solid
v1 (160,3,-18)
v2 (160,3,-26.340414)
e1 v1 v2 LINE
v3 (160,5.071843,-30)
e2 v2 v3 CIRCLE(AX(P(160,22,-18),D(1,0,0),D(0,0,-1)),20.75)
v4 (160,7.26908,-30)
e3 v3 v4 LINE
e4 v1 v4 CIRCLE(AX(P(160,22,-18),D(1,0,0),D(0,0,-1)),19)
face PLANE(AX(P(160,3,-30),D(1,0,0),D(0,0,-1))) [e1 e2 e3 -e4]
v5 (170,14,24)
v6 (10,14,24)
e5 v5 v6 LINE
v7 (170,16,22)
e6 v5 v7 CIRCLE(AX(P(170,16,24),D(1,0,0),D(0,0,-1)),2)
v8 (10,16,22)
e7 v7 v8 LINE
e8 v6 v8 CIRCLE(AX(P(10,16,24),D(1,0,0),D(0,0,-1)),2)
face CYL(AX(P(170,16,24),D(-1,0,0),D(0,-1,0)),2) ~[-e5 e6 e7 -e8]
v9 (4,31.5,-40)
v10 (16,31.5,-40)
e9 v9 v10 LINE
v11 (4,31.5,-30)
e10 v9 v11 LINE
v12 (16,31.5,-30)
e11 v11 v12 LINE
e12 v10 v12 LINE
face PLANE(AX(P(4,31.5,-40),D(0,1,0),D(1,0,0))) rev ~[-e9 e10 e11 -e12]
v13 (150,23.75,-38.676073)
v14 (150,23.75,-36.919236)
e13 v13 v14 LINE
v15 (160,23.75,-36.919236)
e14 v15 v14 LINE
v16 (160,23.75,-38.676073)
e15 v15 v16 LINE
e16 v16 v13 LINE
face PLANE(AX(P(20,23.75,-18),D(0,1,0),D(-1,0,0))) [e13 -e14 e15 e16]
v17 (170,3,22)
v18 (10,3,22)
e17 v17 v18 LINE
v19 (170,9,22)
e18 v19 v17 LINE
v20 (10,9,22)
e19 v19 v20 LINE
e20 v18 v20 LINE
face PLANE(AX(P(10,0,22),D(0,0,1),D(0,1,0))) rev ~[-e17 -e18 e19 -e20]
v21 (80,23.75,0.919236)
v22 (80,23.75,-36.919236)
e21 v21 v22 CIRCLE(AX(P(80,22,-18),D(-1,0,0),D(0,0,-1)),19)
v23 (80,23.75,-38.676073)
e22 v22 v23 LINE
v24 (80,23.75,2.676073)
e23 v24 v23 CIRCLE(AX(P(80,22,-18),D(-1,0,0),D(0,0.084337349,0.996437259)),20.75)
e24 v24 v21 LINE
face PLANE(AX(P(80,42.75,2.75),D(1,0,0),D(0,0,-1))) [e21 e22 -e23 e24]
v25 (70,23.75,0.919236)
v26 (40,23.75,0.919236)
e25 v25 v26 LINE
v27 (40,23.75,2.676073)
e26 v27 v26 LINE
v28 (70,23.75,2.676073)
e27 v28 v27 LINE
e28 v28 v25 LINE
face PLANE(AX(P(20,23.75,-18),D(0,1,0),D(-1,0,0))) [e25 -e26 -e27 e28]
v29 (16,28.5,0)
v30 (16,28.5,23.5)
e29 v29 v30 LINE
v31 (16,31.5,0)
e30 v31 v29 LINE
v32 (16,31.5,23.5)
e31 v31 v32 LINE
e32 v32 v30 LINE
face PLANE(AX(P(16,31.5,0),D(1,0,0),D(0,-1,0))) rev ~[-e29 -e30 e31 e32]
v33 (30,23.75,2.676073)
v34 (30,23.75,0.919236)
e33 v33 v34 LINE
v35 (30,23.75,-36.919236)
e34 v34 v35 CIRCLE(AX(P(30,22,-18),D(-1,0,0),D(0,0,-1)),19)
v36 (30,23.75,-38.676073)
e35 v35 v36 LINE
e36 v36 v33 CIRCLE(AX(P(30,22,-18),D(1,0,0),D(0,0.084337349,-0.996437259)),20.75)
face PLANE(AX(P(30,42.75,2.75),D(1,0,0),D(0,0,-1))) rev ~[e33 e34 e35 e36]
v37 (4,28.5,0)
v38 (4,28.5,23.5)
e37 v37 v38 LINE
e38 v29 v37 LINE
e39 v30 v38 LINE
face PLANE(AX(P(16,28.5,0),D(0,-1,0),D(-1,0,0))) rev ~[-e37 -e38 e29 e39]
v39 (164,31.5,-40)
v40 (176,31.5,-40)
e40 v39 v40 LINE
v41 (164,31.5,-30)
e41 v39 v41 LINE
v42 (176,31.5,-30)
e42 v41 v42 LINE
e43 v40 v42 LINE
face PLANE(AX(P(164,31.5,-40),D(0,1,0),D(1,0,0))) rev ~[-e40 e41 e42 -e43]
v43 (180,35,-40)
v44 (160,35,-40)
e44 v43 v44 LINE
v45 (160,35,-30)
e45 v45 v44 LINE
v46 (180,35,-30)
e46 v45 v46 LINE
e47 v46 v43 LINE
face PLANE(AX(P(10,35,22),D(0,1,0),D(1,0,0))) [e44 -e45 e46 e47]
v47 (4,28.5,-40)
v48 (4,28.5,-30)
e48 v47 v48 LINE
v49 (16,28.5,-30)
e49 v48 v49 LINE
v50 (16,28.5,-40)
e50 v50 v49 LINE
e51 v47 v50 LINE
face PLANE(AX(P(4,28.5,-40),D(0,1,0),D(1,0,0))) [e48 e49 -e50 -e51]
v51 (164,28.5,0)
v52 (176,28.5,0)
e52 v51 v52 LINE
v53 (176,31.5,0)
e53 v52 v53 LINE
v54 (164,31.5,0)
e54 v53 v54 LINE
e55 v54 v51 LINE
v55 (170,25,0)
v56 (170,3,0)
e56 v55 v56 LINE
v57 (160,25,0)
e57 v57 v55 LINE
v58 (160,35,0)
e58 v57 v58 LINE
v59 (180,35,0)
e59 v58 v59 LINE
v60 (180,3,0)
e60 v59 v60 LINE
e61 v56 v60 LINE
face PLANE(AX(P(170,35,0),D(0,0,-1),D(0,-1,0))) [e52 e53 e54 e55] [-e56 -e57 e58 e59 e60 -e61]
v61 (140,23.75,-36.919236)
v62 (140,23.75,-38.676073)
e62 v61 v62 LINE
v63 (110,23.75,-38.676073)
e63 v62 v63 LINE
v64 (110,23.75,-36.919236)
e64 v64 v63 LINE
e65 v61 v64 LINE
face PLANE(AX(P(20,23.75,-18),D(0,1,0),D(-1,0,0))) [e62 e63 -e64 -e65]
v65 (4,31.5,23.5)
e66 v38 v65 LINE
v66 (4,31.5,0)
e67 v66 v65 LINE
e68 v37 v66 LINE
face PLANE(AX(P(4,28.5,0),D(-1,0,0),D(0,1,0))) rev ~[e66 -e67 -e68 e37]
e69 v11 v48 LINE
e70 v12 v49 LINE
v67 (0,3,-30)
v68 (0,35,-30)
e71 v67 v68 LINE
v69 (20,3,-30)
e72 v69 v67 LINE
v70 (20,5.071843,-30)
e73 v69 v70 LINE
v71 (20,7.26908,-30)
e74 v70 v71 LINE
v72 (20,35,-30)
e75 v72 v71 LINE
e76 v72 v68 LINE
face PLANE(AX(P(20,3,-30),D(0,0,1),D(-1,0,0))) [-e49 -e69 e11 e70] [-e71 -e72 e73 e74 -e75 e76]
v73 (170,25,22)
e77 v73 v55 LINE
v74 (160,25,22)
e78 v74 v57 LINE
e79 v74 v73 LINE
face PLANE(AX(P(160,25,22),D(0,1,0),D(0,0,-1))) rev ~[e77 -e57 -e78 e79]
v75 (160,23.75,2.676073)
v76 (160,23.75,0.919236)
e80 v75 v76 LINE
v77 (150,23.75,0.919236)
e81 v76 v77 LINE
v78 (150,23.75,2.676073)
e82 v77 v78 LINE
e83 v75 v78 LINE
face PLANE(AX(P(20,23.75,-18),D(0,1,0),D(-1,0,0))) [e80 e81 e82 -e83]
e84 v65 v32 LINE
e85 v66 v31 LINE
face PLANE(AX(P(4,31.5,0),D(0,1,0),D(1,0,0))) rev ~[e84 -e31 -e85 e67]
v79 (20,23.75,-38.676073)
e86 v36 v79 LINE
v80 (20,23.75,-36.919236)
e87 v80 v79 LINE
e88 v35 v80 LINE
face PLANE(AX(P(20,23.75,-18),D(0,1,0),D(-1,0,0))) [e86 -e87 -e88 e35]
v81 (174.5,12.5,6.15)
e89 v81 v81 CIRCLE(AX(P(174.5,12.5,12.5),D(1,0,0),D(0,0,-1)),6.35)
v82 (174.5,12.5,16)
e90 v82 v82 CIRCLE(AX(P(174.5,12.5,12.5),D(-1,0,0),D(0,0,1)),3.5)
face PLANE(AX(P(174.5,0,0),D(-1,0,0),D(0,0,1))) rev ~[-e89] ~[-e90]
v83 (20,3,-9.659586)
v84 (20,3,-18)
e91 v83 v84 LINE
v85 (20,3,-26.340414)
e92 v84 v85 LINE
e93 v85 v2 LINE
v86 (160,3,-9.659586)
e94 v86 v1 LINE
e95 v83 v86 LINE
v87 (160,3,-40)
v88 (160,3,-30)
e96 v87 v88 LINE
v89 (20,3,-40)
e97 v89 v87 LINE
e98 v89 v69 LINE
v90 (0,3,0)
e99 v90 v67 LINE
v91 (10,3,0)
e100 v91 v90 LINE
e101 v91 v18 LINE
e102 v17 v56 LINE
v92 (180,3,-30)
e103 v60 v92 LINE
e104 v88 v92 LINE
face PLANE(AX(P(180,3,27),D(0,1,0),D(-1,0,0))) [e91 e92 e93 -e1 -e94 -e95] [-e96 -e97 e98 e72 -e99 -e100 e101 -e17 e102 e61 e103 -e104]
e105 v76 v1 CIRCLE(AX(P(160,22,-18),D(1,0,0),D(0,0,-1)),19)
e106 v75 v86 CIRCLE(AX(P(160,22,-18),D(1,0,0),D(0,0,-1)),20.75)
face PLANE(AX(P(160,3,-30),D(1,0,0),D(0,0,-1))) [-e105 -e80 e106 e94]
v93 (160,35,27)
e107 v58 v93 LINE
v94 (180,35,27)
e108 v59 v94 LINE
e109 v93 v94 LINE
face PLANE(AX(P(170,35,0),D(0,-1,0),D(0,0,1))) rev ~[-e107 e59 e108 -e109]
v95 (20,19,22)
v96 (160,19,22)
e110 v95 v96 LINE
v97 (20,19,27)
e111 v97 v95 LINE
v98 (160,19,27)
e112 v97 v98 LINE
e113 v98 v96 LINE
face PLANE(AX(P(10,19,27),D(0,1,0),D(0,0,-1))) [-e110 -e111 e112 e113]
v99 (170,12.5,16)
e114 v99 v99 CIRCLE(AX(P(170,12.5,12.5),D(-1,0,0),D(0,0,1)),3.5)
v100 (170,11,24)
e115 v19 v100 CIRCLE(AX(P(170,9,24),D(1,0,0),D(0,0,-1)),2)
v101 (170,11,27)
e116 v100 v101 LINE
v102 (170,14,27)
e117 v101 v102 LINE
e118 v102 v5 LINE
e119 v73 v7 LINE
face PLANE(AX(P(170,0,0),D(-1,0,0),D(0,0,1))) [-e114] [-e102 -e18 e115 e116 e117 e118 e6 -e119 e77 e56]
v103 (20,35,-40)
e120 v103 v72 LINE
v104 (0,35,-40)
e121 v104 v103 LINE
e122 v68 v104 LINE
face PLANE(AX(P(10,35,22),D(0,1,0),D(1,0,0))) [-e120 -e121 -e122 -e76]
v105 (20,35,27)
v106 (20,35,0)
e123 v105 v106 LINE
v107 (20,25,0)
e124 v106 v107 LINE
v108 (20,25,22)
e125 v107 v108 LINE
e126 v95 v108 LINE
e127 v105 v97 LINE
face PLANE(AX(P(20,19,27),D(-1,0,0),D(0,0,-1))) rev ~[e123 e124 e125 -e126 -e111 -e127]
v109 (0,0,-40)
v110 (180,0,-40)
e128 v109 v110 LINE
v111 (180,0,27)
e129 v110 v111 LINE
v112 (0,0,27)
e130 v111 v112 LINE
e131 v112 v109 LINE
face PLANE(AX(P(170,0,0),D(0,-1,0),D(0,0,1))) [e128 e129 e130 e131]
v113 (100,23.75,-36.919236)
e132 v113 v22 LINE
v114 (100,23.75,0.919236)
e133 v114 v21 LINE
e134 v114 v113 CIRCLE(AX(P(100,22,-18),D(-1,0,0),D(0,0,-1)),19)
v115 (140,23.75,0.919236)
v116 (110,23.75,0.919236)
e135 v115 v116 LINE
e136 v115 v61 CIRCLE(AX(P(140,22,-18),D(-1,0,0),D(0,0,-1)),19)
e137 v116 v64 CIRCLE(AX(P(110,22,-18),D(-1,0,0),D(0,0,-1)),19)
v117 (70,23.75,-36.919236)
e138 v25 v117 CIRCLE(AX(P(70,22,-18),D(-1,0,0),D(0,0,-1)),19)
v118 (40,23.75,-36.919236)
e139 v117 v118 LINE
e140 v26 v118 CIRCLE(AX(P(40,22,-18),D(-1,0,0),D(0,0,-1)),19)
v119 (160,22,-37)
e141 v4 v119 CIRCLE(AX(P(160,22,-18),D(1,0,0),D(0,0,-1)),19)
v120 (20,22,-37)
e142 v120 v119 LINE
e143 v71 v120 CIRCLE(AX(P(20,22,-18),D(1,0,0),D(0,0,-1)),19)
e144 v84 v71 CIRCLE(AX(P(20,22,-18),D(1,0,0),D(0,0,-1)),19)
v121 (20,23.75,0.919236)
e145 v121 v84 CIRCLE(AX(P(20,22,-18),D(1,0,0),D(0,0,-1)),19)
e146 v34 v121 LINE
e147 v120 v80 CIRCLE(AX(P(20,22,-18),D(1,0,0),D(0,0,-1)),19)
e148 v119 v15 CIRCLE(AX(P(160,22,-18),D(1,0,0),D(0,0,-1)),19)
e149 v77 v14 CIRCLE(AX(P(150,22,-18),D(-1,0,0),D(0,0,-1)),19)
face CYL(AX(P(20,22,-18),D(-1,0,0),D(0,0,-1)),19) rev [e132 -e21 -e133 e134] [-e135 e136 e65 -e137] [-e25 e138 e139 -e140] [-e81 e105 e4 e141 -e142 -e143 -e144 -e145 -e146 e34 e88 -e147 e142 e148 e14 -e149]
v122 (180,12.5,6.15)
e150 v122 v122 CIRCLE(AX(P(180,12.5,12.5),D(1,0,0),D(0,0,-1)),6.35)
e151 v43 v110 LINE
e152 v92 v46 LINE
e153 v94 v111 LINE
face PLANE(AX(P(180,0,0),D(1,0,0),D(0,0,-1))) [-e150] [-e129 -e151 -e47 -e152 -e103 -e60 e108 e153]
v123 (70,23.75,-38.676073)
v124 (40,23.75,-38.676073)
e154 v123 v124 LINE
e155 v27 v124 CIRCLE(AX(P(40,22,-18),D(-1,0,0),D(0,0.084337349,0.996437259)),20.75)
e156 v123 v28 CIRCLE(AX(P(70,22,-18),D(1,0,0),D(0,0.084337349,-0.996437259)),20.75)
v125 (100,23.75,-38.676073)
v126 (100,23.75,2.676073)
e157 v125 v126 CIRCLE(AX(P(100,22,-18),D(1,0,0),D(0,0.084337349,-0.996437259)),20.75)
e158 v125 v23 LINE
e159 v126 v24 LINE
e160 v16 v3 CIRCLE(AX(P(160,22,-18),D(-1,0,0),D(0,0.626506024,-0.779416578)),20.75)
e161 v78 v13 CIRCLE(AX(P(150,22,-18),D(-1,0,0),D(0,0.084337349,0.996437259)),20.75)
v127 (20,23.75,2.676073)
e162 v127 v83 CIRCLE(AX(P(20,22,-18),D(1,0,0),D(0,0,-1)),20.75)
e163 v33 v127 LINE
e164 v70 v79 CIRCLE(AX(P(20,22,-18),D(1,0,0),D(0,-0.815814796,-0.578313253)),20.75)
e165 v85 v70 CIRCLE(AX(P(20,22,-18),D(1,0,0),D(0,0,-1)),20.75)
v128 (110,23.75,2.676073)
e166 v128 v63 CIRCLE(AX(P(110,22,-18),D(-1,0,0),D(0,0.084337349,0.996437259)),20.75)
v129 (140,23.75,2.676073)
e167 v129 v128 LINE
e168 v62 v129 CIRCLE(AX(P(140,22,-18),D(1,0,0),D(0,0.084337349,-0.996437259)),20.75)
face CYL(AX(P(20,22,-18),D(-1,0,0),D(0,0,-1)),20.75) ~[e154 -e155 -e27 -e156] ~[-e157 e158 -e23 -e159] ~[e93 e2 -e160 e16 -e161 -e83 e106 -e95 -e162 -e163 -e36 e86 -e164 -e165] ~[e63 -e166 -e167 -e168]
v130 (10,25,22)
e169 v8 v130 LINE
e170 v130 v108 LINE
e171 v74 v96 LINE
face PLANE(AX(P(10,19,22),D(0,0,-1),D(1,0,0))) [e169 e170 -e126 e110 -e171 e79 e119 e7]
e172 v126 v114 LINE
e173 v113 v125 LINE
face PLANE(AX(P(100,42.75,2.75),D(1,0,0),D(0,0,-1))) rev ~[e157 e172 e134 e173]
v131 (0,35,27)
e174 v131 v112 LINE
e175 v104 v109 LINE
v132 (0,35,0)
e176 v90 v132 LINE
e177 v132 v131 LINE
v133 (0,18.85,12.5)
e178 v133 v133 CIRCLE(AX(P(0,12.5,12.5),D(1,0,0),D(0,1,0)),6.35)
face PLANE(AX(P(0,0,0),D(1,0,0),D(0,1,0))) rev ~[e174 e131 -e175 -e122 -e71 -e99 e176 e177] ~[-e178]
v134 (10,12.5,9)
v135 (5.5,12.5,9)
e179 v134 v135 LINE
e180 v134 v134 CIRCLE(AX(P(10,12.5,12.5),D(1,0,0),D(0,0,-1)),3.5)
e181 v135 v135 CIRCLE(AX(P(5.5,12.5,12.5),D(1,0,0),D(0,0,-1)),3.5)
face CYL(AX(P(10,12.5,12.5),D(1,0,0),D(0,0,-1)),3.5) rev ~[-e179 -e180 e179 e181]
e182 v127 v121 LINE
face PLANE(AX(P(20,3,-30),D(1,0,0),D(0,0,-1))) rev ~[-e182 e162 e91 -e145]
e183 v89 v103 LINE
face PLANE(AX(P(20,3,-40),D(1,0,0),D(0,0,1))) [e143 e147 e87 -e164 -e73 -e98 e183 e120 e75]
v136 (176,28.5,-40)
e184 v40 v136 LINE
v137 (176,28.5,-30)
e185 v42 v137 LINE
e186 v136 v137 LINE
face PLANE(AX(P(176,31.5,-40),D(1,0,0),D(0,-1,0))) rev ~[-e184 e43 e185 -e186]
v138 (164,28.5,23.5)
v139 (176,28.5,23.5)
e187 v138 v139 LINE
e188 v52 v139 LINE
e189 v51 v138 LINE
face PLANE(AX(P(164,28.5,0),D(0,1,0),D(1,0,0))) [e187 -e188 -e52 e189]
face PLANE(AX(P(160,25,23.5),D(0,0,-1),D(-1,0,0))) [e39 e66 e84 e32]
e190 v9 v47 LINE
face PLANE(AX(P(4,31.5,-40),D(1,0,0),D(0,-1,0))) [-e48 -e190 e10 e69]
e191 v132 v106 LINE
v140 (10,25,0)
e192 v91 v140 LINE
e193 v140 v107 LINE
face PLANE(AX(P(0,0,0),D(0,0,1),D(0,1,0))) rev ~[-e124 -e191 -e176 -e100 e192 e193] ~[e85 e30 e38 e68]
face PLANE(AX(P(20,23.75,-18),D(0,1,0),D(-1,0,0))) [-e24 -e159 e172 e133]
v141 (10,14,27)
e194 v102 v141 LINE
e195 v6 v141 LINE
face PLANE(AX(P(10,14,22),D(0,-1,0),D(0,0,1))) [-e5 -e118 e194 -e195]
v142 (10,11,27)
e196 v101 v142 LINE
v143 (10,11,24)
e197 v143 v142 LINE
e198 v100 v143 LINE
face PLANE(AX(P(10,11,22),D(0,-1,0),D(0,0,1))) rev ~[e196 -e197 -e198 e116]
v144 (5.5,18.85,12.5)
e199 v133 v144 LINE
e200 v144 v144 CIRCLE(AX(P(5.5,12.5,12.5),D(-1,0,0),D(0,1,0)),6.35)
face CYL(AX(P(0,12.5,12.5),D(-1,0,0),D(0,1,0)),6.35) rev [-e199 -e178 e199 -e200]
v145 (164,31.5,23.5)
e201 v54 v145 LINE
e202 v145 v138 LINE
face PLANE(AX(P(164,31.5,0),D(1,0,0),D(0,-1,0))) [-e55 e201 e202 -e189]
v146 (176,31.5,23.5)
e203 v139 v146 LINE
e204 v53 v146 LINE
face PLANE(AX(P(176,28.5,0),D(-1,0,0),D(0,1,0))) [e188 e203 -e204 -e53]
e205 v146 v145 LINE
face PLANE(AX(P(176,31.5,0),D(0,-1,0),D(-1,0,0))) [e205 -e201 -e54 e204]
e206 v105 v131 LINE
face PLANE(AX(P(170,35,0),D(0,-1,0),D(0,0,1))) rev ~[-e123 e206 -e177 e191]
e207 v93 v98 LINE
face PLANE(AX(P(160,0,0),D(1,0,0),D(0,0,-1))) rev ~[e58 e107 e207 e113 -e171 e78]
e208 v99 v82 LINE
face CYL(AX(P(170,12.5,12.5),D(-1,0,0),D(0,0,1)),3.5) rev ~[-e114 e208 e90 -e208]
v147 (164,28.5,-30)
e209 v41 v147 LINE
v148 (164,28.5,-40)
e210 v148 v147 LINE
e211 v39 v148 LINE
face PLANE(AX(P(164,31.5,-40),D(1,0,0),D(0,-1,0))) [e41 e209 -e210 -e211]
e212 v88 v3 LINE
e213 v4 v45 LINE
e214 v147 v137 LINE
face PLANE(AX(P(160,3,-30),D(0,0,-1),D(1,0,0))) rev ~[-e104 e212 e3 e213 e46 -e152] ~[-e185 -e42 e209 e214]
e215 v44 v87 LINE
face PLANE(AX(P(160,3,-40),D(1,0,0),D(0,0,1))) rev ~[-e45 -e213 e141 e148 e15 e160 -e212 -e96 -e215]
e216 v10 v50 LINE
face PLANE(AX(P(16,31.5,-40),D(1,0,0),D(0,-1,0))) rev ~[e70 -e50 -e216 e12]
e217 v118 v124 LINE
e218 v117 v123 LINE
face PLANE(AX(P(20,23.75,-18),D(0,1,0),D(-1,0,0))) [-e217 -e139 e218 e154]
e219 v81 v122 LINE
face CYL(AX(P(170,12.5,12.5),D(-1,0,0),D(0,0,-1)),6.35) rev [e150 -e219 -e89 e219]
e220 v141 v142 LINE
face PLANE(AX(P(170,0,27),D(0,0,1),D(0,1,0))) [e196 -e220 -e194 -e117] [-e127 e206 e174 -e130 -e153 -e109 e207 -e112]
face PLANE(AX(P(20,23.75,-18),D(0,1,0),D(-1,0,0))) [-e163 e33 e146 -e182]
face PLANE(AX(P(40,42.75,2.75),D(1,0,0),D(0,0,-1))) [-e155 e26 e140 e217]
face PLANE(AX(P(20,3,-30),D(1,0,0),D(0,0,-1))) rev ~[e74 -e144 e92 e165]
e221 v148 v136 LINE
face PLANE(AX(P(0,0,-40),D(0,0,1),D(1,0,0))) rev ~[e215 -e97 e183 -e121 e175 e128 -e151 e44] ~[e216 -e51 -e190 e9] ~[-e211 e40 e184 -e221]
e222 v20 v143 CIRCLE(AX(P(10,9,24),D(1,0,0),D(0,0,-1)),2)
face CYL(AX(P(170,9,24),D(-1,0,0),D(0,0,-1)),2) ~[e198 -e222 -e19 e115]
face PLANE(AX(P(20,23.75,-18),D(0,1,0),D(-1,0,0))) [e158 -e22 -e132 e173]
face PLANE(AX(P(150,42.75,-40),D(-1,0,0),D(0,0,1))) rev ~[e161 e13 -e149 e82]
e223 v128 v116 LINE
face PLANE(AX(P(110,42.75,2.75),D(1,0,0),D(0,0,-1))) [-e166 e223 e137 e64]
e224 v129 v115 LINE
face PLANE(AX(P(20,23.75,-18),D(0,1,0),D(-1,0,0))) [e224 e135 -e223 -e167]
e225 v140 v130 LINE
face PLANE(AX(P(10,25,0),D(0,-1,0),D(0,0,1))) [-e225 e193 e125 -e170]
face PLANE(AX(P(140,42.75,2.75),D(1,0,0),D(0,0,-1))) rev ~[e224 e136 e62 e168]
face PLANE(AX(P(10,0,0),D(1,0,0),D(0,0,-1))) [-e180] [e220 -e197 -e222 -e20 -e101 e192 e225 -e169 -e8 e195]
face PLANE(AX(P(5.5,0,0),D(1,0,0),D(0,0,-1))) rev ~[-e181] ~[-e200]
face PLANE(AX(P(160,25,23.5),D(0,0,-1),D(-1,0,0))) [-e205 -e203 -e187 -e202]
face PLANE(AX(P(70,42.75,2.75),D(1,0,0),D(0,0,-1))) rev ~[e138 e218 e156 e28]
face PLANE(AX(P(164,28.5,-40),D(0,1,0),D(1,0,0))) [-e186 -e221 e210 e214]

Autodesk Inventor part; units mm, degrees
ref_plane "YZ Plane" through (0, 0, 0) normal (1, 0, 0) x (0, 1, 0)
ref_plane "XZ Plane" through (0, 0, 0) normal (0, 1, 0) x (-1, 0, 0)
sketch "Sketch1" plane through (0, 0, 0) normal (1, 0, 0) x (0, 1, 0)
  line L0 (0, 0) -> (35, 0)
  line L1 (35, 0) -> (35, 27)
  line L2 (35, 27) -> (0, 27)
  line L3 (0, 27) -> (0, 0)
  line L4 (0, 27) -> (25, 27) construction
  line L5 (25, 27) -> (25, 0) construction
  line L6 (25, 0) -> (0, 0) construction
  line L7 (0, 0) -> (0, 27) construction
  circle A0 centre (12.5, 12.5) radius 6.35
  dimension "d0" = 35
  dimension "d1" = 27
  dimension "d2" = 25
  dimension "d3" = 12.7
extrude "Extrusion1" add sketch "Sketch1" along normal blind 10
sketch "Sketch2" plane through (10, 0, 0) normal (1, 0, 0) x (0, 0, -1)
  line L0 (0, 35) -> (-27, 35) projected
  line L1 (0, 0) -> (0, 35) projected
  line L2 (-27, 35) -> (0, 35)
  line L3 (0, 35) -> (0, 25)
  line L4 (0, 25) -> (-27, 25)
  line L5 (-27, 25) -> (-27, 35)
  dimension "d6" = 10
extrude "Extrusion2" add sketch "Sketch2" along normal blind 10
sketch "Sketch3" plane through (10, 0, 0) normal (1, 0, 0) x (0, 0, -1)
  point P0 (0, 0)
sketch "Sketch4" plane through (0, 0, 0) normal (0, 0, -1) x (-1, 0, 0)
  point P0 (0, 0)
sketch "Sketch5" plane through (10, 0, 0) normal (1, 0, 0) x (0, 0, -1)
  point P0 (0, 0)
sketch "Sketch6" plane through (10, 0, 0) normal (1, 0, 0) x (0, 0, -1)
  line L0 (-27, 25) -> (-27, 0) projected
  line L1 (-27, 0) -> (-22, 0)
  line L2 (-22, 0) -> (-22, 11)
  line L3 (-22, 11) -> (-27, 11)
  line L4 (-27, 11) -> (-27, 0)
  line L5 (-22, 14) -> (-27, 14)
  line L6 (-27, 14) -> (-27, 19)
  line L7 (-27, 19) -> (-22, 19)
  line L8 (-22, 19) -> (-22, 14)
  point P0 (0, 0)
  dimension "d9" = 5
  dimension "d10" = 11
  dimension "d11" = 5
extrude "Extrusion3" add sketch "Sketch6" along normal blind 150
sketch "Sketch7" plane through (10, 19, 27) normal (0, 1, 0) x (1, 0, 0)
  line L0 (-10, 0) -> (10, 0) projected
  line L1 (0, 5) -> (150, 5) projected
  line L2 (0, 0) -> (10, 0)
  line L3 (10, 0) -> (10, 5)
  line L4 (10, 5) -> (0, 5)
  line L5 (0, 5) -> (0, 0)
  point P0 (-10, 27)
  dimension "d14" = 10
extrude "Extrusion4" add sketch "Sketch7" along normal blind 7.5
sketch "Sketch8" plane through (160, 0, 0) normal (1, 0, 0) x (0, 0, -1)
  line L0 (-27, 14) -> (-22, 14) projected
  line L1 (-27, 14) -> (-22, 14)
  line L2 (-22, 25) -> (-22, 14) projected
  line L3 (-22, 14) -> (-22, 25)
  line L4 (-22, 25) -> (0, 25) projected
  line L5 (-22, 25) -> (0, 25)
  line L6 (0, 25) -> (0, 35) projected
  line L7 (0, 25) -> (0, 35)
  line L8 (0, 35) -> (-27, 35)
  line L9 (-27, 35) -> (-27, 14)
  line L10 (-22, 11) -> (-22, 0) projected
  line L11 (-27, 0) -> (-22, 0)
  line L12 (-22, 0) -> (-22, 11)
  line L13 (-22, 11) -> (-27, 11)
  line L14 (-27, 11) -> (-27, 0)
  point P0 (0, 0)
extrude "Extrusion5" add sketch "Sketch8" along normal blind 10
sketch "Sketch9" plane through (170, 0, 0) normal (1, 0, 0) x (0, 0, -1)
  line L0 (0, 35) -> (-27, 35) projected
  line L1 (-27, 35) -> (0, 35)
  line L2 (0, 35) -> (0, 0)
  line L3 (0, 0) -> (-27, 0)
  line L4 (-27, 0) -> (-27, 35)
  circle A0 centre (-12.5, 12.5) radius 6.35 projected
  circle A1 centre (-12.5, 12.5) radius 6.35
extrude "Extrusion6" add sketch "Sketch9" along normal blind 10
fillet "Fillet1" radius 2 2 edges at (90, 11, 22) (90, 14, 22)
sketch "Sketch10" plane through (20, 0, 0) normal (1, 0, 0) x (0, 0, -1)
  line L0 (0, 35) -> (-27, 35) projected
  line L1 (-13.5, 35) -> (-20.5, 35)
  line L2 (-20.5, 35) -> (-6.5, 35)
  line L3 (-20.5, 35) -> (-6.5, 35)
  line L4 (-6.5, 35) -> (-6.5, 32)
  line L5 (-6.5, 32) -> (-20.5, 32)
  line L6 (-20.5, 32) -> (-20.5, 35)
  point P0 (0, 0)
  dimension "d22" = 7
  dimension "d23" = 14
  dimension "d24" = 3
extrude "Extrusion7" add sketch "Sketch10" along normal blind 140
sketch "Sketch11" plane through (0, 35, 27) normal (0, 1, 0) x (1, 0, 0)
  point P0 (0, 27)
sketch "Sketch12" plane through (160, 25, 0) normal (0, 0, -1) x (-1, 0, 0)
  line L0 (-4, 3.5) -> (-16, 3.5)
  line L1 (-16, 3.5) -> (-16, 6.5)
  line L2 (-16, 6.5) -> (-4, 6.5)
  line L3 (-4, 6.5) -> (-4, 3.5)
  line L4 (-4, 3.5) -> (-16, 6.5) construction
  line L5 (-16, 3.5) -> (-4, 6.5) construction
  line L6 (156, 6.5) -> (144, 6.5)
  line L7 (144, 6.5) -> (144, 3.5)
  line L8 (144, 3.5) -> (156, 3.5)
  line L9 (156, 3.5) -> (156, 6.5)
  line L10 (156, 6.5) -> (144, 3.5) construction
  line L11 (144, 6.5) -> (156, 3.5) construction
  point P0 (160, -25)
  point P1 (-10, 5)
  point P2 (150, 5)
  dimension "d27" = 12
  dimension "d28" = 3
  dimension "d29" = 12
  dimension "d30" = 3
extrude "Extrusion8" cut sketch "Sketch12" against normal blind 23.5
sketch "Sketch13" plane through (0, 0, 0) normal (-1, 0, 0) x (0, 0, 1)
  circle A0 centre (12.5, 12.5) radius 6.35 construction
  circle A1 centre (12.5, 12.5) radius 20.6375 construction
  point P0 (0, 0)
  dimension "d33" = 41.275
sketch "Sketch14" plane through (170, 0, 0) normal (-1, 0, 0) x (0, 0, 1)
  circle A0 centre (12.5, 12.5) radius 6.35 projected
  circle A1 centre (12.5, 12.5) radius 6.35
  circle A2 centre (12.5, 12.5) radius 3.5
  point P0 (0, 0)
  dimension "d34" = 7
extrude "Extrusion9" add sketch "Sketch14" against normal blind 4.5
sketch "Sketch15" plane through (10, 0, 0) normal (1, 0, 0) x (0, 0, -1)
  circle A0 centre (-12.5, 12.5) radius 3.5 projected
  circle A1 centre (-12.5, 12.5) radius 6.35
  circle A2 centre (-12.5, 12.5) radius 3.5
  point P0 (0, 0)
  dimension "d37" = 7
extrude "Extrusion10" add sketch "Sketch15" against normal blind 4.5
sketch "Sketch16" plane through (0, 0, 27) normal (0, 0, 1) x (1, 0, 0)
  point P0 (0, 0)
sketch "Sketch17" plane through (0, 0, 27) normal (0, 0, 1) x (1, 0, 0)
  point P0 (0, 0)
sketch "Sketch18" plane through (0, 0, 27) normal (0, 0, 1) x (1, 0, 0)
  line L0 (0, 35) -> (0, 0) projected
  line L1 (180, 35) -> (180, 0) projected
  line L2 (0, 0) -> (180, 0)
  line L3 (180, 0) -> (180, 3)
  line L4 (180, 3) -> (0, 3)
  line L5 (0, 3) -> (0, 0)
  point P0 (0, 3)
  dimension "d40" = 3
extrude "Extrusion11" add sketch "Sketch18" against normal blind 67
sketch "Sketch19" plane through (0, 3, 27) normal (0, 1, 0) x (-1, 0, 0)
  line L0 (180, 0) -> (180, -42) construction
  point P0 (0, 0)
sketch "Sketch20" plane through (0, 3, -40) normal (0, 1, 0) x (1, 0, 0)
  circle A0 centre (90, -20) radius 19
  circle A1 centre (90, -20) radius 20
  circle A2 centre (50, -20) radius 20
  circle A3 centre (50, -20) radius 19
  circle A4 centre (130, -20) radius 20
  circle A5 centre (130, -20) radius 19
  point P0 (0, -40)
  point P1 (110, -20)
  point P2 (70, -20)
  dimension "d43" = 38
  dimension "d44" = 38
  dimension "d45" = 38
extrude "Extrusion12" add sketch "Sketch20" along normal blind 30
sketch "Sketch21" plane through (10, 3, 22) normal (0, 1, 0) x (1, 0, 0)
  line L0 (-10, 22) -> (-10, 62) projected
  line L1 (-10, 62) -> (10, 62)
  line L2 (10, 62) -> (10, 52)
  line L3 (10, 52) -> (-10, 52)
  line L4 (-10, 52) -> (-10, 62)
  line L5 (170, 62) -> (-10, 62) projected
  line L6 (170, 62) -> (150, 62)
  line L7 (150, 62) -> (150, 52)
  line L8 (150, 52) -> (170, 52)
  line L9 (170, 52) -> (170, 62)
  dimension "d48" = 10
  dimension "d49" = 10
extrude "Extrusion13" add sketch "Sketch21" along normal blind 32
sketch "Sketch22" plane through (4, 28.5, 0) normal (0, 1, 0) x (1, 0, 0)
  point P0 (-4, 0)
sketch "Sketch23" plane through (0, 0, -40) normal (0, 0, -1) x (-1, 0, 0)
  line L0 (-4, 28.5) -> (-16, 28.5) projected
  line L1 (-4, 31.5) -> (-4, 28.5) projected
  line L2 (-16, 28.5) -> (-4, 28.5)
  line L3 (-4, 28.5) -> (-4, 31.5)
  line L4 (-4, 31.5) -> (-16, 31.5)
  line L5 (-16, 31.5) -> (-16, 28.5)
  line L6 (-164, 28.5) -> (-176, 28.5) projected
  line L7 (-164, 31.5) -> (-164, 28.5) projected
  line L8 (-176, 28.5) -> (-164, 28.5)
  line L9 (-164, 28.5) -> (-164, 31.5)
  line L10 (-164, 31.5) -> (-176, 31.5)
  line L11 (-176, 31.5) -> (-176, 28.5)
  point P0 (0, 0)
extrude "Extrusion14" cut sketch "Sketch23" against normal blind 10
sketch "Sketch24" plane through (130, 33, -20) normal (0, 1, 0) x (1, 0, 0)
  line L0 (27.2959, -23.1323) -> (-103.8128, -23.1323)
  line L1 (-103.8128, -23.1323) -> (-103.8128, 25.7271)
  line L2 (-103.8128, 25.7271) -> (27.2959, 25.7271)
  line L3 (27.2959, 25.7271) -> (27.2959, -23.1323)
  point P0 (-130, -20)
extrude "Extrusion15" cut sketch "Sketch24" against normal blind 30
sketch "Sketch25" plane through (10, 3, 22) normal (0, 1, 0) x (1, 0, 0)
  circle A0 centre (80, 38.75) radius 19
  circle A1 centre (80, 38.75) radius 20.75
  circle A2 centre (121.5, 38.75) radius 20.75
  circle A3 centre (121.5, 38.75) radius 19
  circle A4 centre (38.5, 38.75) radius 20.75
  circle A5 centre (38.5, 38.75) radius 19
  point P0 (-10, 22)
  point P1 (59.25, 38.75)
  point P2 (100.75, 38.75)
  dimension "d56" = 38
  dimension "d57" = 41.5
  dimension "d58" = 38
  dimension "d59" = 38
extrude "Extrusion16" add sketch "Sketch25" along normal blind 45
sketch "Sketch26" plane through (0, 35, 27) normal (0, 1, 0) x (1, 0, 0)
  line L0 (20, 6.5) -> (160, 6.5) projected
  line L1 (20, 20.5) -> (160, 20.5) projected
  line L2 (20, 6.5) -> (160, 6.5)
  line L3 (160, 6.5) -> (160, 20.5)
  line L4 (160, 20.5) -> (20, 20.5)
  line L5 (20, 20.5) -> (20, 6.5)
  point P0 (0, 27)
extrude "Extrusion17" cut sketch "Sketch26" against normal blind 5
sketch "Sketch27" plane through (10, 48, 22) normal (0, 1, 0) x (1, 0, 0)
  line L0 (16.1578, 67.5748) -> (146.5005, 67.5748)
  line L1 (146.5005, 67.5748) -> (146.5005, 15.2049)
  line L2 (146.5005, 15.2049) -> (16.1578, 15.2049)
  line L3 (16.1578, 15.2049) -> (16.1578, 67.5748)
  point P0 (-10, 22)
extrude "Extrusion18" cut sketch "Sketch27" against normal blind 45
sketch "Sketch28" plane through (10, 3, 22) normal (0, 1, 0) x (1, 0, 0)
  point P0 (-10, 22)
sketch "Sketch29" plane through (0, 0, 0) normal (-1, 0, 0) x (0, 0, 1)
  point P0 (0, 0)
sketch "Sketch30" plane through (20, 3, -30) normal (1, 0, 0) x (0, 0, -1)
  circle A0 centre (-12, 19) radius 19
  line L0 (-30, 0) -> (0, 0) projected
  circle A1 centre (-12, 19) radius 20.75
  point P0 (-30, -3)
  point P1 (-3.6596, 0)
  point P2 (-20.3404, 0)
  point P3 (-12, 0)
  dimension "d66" = 41.5
extrude "Extrusion19" add sketch "Sketch30" along normal blind 140 contours L0 A1 picked at (-31.4706, 19.7749)
ref_plane "Work Plane1" through (20, 42.75, -18) normal (0, 1, 0) x (-1, 0, 0)
sketch "Sketch31" plane through (20, 42.75, -18) normal (0, 1, 0) x (-1, 0, 0)
  line L0 (0, -22) -> (-140, -22) projected
  line L1 (0, 20.75) -> (-140, 20.75) projected
  line L2 (-140, -22) -> (-130, -22)
  line L3 (-130, -22) -> (-130, 20.75)
  line L4 (-130, 20.75) -> (-140, 20.75)
  line L5 (-140, 20.75) -> (-140, -22)
  line L6 (-130, 20.75) -> (-120, 20.75)
  line L7 (-120, 20.75) -> (-120, -22)
  line L8 (-120, -22) -> (-130, -22)
  line L9 (-130, -22) -> (-130, 20.75)
  line L10 (-120, 20.75) -> (-110, 20.75)
  line L11 (-110, 20.75) -> (-110, -22)
  line L12 (-110, -22) -> (-120, -22)
  line L13 (-120, -22) -> (-120, 20.75)
  line L14 (-110, 20.75) -> (-100, 20.75)
  line L15 (-100, 20.75) -> (-100, -22)
  line L16 (-100, -22) -> (-110, -22)
  line L17 (-110, -22) -> (-110, 20.75)
  line L18 (-100, 20.75) -> (-90, 20.75)
  line L19 (-90, 20.75) -> (-90, -22)
  line L20 (-90, -22) -> (-100, -22)
  line L21 (-100, -22) -> (-100, 20.75)
  line L22 (-90, 20.75) -> (-80, 20.75)
  line L23 (-80, 20.75) -> (-80, -22)
  line L24 (-80, -22) -> (-90, -22)
  line L25 (-90, -22) -> (-90, 20.75)
  line L26 (-80, 20.75) -> (-70, 20.75)
  line L27 (-70, 20.75) -> (-70, -22)
  line L28 (-70, -22) -> (-80, -22)
  line L29 (-80, -22) -> (-80, 20.75)
  line L30 (-70, 20.75) -> (-60, 20.75)
  line L31 (-60, 20.75) -> (-60, -22)
  line L32 (-60, -22) -> (-70, -22)
  line L33 (-70, -22) -> (-70, 20.75)
  line L34 (-60, 20.75) -> (-50, 20.75)
  line L35 (-50, 20.75) -> (-50, -22.9756)
  line L36 (-50, -22.9756) -> (-60, -22.9756)
  line L37 (-60, -22.9756) -> (-60, 20.75)
  line L38 (-50, 20.75) -> (-40, 20.75)
  line L39 (-40, 20.75) -> (-40, -22)
  line L40 (-40, -22) -> (-50, -22)
  line L41 (-50, -22) -> (-50, 20.75)
  line L42 (-40, 20.75) -> (-30, 20.75)
  line L43 (-30, 20.75) -> (-30, -22)
  line L44 (-30, -22) -> (-40, -22)
  line L45 (-40, -22) -> (-40, 20.75)
  line L46 (-30, 20.75) -> (-20, 20.75)
  line L47 (-20, 20.75) -> (-20, -22)
  line L48 (-20, -22) -> (-30, -22)
  line L49 (-30, -22) -> (-30, 20.75)
  line L50 (-20, 20.75) -> (-10, 20.75)
  line L51 (-10, 20.75) -> (-10, -22)
  line L52 (-10, -22) -> (-20, -22)
  line L53 (-20, -22) -> (-20, 20.75)
  line L54 (-10, 20.75) -> (0, 20.75)
  line L55 (0, 20.75) -> (0, -22)
  line L56 (0, -22) -> (-10, -22)
  line L57 (-10, -22) -> (-10, 20.75)
  point P0 (20, 18)
  point P1 (-80, -22)
  point P2 (-60, -22)
  point P3 (-20, -22)
  point P4 (-10, -22)
  point P5 (-120, -22)
  point P6 (-90, -22)
  dimension "d69" = 10
  dimension "d70" = 10
  dimension "d71" = 10
  dimension "d72" = 10
  dimension "d73" = 10
  dimension "d74" = 10
  dimension "d75" = 10
  dimension "d76" = 10
  dimension "d77" = 10
  dimension "d78" = 10
  dimension "d79" = 10
  dimension "d80" = 10
  dimension "d81" = 10
extrude "Extrusion20" cut sketch "Sketch31" against normal blind 19 contours L0 L51 L1 L55 | L0 L43 L1 L47 | L0 L39 L1 L43 | L0 L35 L1 L39 | L0 L27 L1 L31 | L0 L23 L1 L27 | L0 L15 L1 L19 | L0 L11 L1 L15 | L0 L7 L1 L11 | L0 L5 L1 L3
properties part number "_3DPrint"
